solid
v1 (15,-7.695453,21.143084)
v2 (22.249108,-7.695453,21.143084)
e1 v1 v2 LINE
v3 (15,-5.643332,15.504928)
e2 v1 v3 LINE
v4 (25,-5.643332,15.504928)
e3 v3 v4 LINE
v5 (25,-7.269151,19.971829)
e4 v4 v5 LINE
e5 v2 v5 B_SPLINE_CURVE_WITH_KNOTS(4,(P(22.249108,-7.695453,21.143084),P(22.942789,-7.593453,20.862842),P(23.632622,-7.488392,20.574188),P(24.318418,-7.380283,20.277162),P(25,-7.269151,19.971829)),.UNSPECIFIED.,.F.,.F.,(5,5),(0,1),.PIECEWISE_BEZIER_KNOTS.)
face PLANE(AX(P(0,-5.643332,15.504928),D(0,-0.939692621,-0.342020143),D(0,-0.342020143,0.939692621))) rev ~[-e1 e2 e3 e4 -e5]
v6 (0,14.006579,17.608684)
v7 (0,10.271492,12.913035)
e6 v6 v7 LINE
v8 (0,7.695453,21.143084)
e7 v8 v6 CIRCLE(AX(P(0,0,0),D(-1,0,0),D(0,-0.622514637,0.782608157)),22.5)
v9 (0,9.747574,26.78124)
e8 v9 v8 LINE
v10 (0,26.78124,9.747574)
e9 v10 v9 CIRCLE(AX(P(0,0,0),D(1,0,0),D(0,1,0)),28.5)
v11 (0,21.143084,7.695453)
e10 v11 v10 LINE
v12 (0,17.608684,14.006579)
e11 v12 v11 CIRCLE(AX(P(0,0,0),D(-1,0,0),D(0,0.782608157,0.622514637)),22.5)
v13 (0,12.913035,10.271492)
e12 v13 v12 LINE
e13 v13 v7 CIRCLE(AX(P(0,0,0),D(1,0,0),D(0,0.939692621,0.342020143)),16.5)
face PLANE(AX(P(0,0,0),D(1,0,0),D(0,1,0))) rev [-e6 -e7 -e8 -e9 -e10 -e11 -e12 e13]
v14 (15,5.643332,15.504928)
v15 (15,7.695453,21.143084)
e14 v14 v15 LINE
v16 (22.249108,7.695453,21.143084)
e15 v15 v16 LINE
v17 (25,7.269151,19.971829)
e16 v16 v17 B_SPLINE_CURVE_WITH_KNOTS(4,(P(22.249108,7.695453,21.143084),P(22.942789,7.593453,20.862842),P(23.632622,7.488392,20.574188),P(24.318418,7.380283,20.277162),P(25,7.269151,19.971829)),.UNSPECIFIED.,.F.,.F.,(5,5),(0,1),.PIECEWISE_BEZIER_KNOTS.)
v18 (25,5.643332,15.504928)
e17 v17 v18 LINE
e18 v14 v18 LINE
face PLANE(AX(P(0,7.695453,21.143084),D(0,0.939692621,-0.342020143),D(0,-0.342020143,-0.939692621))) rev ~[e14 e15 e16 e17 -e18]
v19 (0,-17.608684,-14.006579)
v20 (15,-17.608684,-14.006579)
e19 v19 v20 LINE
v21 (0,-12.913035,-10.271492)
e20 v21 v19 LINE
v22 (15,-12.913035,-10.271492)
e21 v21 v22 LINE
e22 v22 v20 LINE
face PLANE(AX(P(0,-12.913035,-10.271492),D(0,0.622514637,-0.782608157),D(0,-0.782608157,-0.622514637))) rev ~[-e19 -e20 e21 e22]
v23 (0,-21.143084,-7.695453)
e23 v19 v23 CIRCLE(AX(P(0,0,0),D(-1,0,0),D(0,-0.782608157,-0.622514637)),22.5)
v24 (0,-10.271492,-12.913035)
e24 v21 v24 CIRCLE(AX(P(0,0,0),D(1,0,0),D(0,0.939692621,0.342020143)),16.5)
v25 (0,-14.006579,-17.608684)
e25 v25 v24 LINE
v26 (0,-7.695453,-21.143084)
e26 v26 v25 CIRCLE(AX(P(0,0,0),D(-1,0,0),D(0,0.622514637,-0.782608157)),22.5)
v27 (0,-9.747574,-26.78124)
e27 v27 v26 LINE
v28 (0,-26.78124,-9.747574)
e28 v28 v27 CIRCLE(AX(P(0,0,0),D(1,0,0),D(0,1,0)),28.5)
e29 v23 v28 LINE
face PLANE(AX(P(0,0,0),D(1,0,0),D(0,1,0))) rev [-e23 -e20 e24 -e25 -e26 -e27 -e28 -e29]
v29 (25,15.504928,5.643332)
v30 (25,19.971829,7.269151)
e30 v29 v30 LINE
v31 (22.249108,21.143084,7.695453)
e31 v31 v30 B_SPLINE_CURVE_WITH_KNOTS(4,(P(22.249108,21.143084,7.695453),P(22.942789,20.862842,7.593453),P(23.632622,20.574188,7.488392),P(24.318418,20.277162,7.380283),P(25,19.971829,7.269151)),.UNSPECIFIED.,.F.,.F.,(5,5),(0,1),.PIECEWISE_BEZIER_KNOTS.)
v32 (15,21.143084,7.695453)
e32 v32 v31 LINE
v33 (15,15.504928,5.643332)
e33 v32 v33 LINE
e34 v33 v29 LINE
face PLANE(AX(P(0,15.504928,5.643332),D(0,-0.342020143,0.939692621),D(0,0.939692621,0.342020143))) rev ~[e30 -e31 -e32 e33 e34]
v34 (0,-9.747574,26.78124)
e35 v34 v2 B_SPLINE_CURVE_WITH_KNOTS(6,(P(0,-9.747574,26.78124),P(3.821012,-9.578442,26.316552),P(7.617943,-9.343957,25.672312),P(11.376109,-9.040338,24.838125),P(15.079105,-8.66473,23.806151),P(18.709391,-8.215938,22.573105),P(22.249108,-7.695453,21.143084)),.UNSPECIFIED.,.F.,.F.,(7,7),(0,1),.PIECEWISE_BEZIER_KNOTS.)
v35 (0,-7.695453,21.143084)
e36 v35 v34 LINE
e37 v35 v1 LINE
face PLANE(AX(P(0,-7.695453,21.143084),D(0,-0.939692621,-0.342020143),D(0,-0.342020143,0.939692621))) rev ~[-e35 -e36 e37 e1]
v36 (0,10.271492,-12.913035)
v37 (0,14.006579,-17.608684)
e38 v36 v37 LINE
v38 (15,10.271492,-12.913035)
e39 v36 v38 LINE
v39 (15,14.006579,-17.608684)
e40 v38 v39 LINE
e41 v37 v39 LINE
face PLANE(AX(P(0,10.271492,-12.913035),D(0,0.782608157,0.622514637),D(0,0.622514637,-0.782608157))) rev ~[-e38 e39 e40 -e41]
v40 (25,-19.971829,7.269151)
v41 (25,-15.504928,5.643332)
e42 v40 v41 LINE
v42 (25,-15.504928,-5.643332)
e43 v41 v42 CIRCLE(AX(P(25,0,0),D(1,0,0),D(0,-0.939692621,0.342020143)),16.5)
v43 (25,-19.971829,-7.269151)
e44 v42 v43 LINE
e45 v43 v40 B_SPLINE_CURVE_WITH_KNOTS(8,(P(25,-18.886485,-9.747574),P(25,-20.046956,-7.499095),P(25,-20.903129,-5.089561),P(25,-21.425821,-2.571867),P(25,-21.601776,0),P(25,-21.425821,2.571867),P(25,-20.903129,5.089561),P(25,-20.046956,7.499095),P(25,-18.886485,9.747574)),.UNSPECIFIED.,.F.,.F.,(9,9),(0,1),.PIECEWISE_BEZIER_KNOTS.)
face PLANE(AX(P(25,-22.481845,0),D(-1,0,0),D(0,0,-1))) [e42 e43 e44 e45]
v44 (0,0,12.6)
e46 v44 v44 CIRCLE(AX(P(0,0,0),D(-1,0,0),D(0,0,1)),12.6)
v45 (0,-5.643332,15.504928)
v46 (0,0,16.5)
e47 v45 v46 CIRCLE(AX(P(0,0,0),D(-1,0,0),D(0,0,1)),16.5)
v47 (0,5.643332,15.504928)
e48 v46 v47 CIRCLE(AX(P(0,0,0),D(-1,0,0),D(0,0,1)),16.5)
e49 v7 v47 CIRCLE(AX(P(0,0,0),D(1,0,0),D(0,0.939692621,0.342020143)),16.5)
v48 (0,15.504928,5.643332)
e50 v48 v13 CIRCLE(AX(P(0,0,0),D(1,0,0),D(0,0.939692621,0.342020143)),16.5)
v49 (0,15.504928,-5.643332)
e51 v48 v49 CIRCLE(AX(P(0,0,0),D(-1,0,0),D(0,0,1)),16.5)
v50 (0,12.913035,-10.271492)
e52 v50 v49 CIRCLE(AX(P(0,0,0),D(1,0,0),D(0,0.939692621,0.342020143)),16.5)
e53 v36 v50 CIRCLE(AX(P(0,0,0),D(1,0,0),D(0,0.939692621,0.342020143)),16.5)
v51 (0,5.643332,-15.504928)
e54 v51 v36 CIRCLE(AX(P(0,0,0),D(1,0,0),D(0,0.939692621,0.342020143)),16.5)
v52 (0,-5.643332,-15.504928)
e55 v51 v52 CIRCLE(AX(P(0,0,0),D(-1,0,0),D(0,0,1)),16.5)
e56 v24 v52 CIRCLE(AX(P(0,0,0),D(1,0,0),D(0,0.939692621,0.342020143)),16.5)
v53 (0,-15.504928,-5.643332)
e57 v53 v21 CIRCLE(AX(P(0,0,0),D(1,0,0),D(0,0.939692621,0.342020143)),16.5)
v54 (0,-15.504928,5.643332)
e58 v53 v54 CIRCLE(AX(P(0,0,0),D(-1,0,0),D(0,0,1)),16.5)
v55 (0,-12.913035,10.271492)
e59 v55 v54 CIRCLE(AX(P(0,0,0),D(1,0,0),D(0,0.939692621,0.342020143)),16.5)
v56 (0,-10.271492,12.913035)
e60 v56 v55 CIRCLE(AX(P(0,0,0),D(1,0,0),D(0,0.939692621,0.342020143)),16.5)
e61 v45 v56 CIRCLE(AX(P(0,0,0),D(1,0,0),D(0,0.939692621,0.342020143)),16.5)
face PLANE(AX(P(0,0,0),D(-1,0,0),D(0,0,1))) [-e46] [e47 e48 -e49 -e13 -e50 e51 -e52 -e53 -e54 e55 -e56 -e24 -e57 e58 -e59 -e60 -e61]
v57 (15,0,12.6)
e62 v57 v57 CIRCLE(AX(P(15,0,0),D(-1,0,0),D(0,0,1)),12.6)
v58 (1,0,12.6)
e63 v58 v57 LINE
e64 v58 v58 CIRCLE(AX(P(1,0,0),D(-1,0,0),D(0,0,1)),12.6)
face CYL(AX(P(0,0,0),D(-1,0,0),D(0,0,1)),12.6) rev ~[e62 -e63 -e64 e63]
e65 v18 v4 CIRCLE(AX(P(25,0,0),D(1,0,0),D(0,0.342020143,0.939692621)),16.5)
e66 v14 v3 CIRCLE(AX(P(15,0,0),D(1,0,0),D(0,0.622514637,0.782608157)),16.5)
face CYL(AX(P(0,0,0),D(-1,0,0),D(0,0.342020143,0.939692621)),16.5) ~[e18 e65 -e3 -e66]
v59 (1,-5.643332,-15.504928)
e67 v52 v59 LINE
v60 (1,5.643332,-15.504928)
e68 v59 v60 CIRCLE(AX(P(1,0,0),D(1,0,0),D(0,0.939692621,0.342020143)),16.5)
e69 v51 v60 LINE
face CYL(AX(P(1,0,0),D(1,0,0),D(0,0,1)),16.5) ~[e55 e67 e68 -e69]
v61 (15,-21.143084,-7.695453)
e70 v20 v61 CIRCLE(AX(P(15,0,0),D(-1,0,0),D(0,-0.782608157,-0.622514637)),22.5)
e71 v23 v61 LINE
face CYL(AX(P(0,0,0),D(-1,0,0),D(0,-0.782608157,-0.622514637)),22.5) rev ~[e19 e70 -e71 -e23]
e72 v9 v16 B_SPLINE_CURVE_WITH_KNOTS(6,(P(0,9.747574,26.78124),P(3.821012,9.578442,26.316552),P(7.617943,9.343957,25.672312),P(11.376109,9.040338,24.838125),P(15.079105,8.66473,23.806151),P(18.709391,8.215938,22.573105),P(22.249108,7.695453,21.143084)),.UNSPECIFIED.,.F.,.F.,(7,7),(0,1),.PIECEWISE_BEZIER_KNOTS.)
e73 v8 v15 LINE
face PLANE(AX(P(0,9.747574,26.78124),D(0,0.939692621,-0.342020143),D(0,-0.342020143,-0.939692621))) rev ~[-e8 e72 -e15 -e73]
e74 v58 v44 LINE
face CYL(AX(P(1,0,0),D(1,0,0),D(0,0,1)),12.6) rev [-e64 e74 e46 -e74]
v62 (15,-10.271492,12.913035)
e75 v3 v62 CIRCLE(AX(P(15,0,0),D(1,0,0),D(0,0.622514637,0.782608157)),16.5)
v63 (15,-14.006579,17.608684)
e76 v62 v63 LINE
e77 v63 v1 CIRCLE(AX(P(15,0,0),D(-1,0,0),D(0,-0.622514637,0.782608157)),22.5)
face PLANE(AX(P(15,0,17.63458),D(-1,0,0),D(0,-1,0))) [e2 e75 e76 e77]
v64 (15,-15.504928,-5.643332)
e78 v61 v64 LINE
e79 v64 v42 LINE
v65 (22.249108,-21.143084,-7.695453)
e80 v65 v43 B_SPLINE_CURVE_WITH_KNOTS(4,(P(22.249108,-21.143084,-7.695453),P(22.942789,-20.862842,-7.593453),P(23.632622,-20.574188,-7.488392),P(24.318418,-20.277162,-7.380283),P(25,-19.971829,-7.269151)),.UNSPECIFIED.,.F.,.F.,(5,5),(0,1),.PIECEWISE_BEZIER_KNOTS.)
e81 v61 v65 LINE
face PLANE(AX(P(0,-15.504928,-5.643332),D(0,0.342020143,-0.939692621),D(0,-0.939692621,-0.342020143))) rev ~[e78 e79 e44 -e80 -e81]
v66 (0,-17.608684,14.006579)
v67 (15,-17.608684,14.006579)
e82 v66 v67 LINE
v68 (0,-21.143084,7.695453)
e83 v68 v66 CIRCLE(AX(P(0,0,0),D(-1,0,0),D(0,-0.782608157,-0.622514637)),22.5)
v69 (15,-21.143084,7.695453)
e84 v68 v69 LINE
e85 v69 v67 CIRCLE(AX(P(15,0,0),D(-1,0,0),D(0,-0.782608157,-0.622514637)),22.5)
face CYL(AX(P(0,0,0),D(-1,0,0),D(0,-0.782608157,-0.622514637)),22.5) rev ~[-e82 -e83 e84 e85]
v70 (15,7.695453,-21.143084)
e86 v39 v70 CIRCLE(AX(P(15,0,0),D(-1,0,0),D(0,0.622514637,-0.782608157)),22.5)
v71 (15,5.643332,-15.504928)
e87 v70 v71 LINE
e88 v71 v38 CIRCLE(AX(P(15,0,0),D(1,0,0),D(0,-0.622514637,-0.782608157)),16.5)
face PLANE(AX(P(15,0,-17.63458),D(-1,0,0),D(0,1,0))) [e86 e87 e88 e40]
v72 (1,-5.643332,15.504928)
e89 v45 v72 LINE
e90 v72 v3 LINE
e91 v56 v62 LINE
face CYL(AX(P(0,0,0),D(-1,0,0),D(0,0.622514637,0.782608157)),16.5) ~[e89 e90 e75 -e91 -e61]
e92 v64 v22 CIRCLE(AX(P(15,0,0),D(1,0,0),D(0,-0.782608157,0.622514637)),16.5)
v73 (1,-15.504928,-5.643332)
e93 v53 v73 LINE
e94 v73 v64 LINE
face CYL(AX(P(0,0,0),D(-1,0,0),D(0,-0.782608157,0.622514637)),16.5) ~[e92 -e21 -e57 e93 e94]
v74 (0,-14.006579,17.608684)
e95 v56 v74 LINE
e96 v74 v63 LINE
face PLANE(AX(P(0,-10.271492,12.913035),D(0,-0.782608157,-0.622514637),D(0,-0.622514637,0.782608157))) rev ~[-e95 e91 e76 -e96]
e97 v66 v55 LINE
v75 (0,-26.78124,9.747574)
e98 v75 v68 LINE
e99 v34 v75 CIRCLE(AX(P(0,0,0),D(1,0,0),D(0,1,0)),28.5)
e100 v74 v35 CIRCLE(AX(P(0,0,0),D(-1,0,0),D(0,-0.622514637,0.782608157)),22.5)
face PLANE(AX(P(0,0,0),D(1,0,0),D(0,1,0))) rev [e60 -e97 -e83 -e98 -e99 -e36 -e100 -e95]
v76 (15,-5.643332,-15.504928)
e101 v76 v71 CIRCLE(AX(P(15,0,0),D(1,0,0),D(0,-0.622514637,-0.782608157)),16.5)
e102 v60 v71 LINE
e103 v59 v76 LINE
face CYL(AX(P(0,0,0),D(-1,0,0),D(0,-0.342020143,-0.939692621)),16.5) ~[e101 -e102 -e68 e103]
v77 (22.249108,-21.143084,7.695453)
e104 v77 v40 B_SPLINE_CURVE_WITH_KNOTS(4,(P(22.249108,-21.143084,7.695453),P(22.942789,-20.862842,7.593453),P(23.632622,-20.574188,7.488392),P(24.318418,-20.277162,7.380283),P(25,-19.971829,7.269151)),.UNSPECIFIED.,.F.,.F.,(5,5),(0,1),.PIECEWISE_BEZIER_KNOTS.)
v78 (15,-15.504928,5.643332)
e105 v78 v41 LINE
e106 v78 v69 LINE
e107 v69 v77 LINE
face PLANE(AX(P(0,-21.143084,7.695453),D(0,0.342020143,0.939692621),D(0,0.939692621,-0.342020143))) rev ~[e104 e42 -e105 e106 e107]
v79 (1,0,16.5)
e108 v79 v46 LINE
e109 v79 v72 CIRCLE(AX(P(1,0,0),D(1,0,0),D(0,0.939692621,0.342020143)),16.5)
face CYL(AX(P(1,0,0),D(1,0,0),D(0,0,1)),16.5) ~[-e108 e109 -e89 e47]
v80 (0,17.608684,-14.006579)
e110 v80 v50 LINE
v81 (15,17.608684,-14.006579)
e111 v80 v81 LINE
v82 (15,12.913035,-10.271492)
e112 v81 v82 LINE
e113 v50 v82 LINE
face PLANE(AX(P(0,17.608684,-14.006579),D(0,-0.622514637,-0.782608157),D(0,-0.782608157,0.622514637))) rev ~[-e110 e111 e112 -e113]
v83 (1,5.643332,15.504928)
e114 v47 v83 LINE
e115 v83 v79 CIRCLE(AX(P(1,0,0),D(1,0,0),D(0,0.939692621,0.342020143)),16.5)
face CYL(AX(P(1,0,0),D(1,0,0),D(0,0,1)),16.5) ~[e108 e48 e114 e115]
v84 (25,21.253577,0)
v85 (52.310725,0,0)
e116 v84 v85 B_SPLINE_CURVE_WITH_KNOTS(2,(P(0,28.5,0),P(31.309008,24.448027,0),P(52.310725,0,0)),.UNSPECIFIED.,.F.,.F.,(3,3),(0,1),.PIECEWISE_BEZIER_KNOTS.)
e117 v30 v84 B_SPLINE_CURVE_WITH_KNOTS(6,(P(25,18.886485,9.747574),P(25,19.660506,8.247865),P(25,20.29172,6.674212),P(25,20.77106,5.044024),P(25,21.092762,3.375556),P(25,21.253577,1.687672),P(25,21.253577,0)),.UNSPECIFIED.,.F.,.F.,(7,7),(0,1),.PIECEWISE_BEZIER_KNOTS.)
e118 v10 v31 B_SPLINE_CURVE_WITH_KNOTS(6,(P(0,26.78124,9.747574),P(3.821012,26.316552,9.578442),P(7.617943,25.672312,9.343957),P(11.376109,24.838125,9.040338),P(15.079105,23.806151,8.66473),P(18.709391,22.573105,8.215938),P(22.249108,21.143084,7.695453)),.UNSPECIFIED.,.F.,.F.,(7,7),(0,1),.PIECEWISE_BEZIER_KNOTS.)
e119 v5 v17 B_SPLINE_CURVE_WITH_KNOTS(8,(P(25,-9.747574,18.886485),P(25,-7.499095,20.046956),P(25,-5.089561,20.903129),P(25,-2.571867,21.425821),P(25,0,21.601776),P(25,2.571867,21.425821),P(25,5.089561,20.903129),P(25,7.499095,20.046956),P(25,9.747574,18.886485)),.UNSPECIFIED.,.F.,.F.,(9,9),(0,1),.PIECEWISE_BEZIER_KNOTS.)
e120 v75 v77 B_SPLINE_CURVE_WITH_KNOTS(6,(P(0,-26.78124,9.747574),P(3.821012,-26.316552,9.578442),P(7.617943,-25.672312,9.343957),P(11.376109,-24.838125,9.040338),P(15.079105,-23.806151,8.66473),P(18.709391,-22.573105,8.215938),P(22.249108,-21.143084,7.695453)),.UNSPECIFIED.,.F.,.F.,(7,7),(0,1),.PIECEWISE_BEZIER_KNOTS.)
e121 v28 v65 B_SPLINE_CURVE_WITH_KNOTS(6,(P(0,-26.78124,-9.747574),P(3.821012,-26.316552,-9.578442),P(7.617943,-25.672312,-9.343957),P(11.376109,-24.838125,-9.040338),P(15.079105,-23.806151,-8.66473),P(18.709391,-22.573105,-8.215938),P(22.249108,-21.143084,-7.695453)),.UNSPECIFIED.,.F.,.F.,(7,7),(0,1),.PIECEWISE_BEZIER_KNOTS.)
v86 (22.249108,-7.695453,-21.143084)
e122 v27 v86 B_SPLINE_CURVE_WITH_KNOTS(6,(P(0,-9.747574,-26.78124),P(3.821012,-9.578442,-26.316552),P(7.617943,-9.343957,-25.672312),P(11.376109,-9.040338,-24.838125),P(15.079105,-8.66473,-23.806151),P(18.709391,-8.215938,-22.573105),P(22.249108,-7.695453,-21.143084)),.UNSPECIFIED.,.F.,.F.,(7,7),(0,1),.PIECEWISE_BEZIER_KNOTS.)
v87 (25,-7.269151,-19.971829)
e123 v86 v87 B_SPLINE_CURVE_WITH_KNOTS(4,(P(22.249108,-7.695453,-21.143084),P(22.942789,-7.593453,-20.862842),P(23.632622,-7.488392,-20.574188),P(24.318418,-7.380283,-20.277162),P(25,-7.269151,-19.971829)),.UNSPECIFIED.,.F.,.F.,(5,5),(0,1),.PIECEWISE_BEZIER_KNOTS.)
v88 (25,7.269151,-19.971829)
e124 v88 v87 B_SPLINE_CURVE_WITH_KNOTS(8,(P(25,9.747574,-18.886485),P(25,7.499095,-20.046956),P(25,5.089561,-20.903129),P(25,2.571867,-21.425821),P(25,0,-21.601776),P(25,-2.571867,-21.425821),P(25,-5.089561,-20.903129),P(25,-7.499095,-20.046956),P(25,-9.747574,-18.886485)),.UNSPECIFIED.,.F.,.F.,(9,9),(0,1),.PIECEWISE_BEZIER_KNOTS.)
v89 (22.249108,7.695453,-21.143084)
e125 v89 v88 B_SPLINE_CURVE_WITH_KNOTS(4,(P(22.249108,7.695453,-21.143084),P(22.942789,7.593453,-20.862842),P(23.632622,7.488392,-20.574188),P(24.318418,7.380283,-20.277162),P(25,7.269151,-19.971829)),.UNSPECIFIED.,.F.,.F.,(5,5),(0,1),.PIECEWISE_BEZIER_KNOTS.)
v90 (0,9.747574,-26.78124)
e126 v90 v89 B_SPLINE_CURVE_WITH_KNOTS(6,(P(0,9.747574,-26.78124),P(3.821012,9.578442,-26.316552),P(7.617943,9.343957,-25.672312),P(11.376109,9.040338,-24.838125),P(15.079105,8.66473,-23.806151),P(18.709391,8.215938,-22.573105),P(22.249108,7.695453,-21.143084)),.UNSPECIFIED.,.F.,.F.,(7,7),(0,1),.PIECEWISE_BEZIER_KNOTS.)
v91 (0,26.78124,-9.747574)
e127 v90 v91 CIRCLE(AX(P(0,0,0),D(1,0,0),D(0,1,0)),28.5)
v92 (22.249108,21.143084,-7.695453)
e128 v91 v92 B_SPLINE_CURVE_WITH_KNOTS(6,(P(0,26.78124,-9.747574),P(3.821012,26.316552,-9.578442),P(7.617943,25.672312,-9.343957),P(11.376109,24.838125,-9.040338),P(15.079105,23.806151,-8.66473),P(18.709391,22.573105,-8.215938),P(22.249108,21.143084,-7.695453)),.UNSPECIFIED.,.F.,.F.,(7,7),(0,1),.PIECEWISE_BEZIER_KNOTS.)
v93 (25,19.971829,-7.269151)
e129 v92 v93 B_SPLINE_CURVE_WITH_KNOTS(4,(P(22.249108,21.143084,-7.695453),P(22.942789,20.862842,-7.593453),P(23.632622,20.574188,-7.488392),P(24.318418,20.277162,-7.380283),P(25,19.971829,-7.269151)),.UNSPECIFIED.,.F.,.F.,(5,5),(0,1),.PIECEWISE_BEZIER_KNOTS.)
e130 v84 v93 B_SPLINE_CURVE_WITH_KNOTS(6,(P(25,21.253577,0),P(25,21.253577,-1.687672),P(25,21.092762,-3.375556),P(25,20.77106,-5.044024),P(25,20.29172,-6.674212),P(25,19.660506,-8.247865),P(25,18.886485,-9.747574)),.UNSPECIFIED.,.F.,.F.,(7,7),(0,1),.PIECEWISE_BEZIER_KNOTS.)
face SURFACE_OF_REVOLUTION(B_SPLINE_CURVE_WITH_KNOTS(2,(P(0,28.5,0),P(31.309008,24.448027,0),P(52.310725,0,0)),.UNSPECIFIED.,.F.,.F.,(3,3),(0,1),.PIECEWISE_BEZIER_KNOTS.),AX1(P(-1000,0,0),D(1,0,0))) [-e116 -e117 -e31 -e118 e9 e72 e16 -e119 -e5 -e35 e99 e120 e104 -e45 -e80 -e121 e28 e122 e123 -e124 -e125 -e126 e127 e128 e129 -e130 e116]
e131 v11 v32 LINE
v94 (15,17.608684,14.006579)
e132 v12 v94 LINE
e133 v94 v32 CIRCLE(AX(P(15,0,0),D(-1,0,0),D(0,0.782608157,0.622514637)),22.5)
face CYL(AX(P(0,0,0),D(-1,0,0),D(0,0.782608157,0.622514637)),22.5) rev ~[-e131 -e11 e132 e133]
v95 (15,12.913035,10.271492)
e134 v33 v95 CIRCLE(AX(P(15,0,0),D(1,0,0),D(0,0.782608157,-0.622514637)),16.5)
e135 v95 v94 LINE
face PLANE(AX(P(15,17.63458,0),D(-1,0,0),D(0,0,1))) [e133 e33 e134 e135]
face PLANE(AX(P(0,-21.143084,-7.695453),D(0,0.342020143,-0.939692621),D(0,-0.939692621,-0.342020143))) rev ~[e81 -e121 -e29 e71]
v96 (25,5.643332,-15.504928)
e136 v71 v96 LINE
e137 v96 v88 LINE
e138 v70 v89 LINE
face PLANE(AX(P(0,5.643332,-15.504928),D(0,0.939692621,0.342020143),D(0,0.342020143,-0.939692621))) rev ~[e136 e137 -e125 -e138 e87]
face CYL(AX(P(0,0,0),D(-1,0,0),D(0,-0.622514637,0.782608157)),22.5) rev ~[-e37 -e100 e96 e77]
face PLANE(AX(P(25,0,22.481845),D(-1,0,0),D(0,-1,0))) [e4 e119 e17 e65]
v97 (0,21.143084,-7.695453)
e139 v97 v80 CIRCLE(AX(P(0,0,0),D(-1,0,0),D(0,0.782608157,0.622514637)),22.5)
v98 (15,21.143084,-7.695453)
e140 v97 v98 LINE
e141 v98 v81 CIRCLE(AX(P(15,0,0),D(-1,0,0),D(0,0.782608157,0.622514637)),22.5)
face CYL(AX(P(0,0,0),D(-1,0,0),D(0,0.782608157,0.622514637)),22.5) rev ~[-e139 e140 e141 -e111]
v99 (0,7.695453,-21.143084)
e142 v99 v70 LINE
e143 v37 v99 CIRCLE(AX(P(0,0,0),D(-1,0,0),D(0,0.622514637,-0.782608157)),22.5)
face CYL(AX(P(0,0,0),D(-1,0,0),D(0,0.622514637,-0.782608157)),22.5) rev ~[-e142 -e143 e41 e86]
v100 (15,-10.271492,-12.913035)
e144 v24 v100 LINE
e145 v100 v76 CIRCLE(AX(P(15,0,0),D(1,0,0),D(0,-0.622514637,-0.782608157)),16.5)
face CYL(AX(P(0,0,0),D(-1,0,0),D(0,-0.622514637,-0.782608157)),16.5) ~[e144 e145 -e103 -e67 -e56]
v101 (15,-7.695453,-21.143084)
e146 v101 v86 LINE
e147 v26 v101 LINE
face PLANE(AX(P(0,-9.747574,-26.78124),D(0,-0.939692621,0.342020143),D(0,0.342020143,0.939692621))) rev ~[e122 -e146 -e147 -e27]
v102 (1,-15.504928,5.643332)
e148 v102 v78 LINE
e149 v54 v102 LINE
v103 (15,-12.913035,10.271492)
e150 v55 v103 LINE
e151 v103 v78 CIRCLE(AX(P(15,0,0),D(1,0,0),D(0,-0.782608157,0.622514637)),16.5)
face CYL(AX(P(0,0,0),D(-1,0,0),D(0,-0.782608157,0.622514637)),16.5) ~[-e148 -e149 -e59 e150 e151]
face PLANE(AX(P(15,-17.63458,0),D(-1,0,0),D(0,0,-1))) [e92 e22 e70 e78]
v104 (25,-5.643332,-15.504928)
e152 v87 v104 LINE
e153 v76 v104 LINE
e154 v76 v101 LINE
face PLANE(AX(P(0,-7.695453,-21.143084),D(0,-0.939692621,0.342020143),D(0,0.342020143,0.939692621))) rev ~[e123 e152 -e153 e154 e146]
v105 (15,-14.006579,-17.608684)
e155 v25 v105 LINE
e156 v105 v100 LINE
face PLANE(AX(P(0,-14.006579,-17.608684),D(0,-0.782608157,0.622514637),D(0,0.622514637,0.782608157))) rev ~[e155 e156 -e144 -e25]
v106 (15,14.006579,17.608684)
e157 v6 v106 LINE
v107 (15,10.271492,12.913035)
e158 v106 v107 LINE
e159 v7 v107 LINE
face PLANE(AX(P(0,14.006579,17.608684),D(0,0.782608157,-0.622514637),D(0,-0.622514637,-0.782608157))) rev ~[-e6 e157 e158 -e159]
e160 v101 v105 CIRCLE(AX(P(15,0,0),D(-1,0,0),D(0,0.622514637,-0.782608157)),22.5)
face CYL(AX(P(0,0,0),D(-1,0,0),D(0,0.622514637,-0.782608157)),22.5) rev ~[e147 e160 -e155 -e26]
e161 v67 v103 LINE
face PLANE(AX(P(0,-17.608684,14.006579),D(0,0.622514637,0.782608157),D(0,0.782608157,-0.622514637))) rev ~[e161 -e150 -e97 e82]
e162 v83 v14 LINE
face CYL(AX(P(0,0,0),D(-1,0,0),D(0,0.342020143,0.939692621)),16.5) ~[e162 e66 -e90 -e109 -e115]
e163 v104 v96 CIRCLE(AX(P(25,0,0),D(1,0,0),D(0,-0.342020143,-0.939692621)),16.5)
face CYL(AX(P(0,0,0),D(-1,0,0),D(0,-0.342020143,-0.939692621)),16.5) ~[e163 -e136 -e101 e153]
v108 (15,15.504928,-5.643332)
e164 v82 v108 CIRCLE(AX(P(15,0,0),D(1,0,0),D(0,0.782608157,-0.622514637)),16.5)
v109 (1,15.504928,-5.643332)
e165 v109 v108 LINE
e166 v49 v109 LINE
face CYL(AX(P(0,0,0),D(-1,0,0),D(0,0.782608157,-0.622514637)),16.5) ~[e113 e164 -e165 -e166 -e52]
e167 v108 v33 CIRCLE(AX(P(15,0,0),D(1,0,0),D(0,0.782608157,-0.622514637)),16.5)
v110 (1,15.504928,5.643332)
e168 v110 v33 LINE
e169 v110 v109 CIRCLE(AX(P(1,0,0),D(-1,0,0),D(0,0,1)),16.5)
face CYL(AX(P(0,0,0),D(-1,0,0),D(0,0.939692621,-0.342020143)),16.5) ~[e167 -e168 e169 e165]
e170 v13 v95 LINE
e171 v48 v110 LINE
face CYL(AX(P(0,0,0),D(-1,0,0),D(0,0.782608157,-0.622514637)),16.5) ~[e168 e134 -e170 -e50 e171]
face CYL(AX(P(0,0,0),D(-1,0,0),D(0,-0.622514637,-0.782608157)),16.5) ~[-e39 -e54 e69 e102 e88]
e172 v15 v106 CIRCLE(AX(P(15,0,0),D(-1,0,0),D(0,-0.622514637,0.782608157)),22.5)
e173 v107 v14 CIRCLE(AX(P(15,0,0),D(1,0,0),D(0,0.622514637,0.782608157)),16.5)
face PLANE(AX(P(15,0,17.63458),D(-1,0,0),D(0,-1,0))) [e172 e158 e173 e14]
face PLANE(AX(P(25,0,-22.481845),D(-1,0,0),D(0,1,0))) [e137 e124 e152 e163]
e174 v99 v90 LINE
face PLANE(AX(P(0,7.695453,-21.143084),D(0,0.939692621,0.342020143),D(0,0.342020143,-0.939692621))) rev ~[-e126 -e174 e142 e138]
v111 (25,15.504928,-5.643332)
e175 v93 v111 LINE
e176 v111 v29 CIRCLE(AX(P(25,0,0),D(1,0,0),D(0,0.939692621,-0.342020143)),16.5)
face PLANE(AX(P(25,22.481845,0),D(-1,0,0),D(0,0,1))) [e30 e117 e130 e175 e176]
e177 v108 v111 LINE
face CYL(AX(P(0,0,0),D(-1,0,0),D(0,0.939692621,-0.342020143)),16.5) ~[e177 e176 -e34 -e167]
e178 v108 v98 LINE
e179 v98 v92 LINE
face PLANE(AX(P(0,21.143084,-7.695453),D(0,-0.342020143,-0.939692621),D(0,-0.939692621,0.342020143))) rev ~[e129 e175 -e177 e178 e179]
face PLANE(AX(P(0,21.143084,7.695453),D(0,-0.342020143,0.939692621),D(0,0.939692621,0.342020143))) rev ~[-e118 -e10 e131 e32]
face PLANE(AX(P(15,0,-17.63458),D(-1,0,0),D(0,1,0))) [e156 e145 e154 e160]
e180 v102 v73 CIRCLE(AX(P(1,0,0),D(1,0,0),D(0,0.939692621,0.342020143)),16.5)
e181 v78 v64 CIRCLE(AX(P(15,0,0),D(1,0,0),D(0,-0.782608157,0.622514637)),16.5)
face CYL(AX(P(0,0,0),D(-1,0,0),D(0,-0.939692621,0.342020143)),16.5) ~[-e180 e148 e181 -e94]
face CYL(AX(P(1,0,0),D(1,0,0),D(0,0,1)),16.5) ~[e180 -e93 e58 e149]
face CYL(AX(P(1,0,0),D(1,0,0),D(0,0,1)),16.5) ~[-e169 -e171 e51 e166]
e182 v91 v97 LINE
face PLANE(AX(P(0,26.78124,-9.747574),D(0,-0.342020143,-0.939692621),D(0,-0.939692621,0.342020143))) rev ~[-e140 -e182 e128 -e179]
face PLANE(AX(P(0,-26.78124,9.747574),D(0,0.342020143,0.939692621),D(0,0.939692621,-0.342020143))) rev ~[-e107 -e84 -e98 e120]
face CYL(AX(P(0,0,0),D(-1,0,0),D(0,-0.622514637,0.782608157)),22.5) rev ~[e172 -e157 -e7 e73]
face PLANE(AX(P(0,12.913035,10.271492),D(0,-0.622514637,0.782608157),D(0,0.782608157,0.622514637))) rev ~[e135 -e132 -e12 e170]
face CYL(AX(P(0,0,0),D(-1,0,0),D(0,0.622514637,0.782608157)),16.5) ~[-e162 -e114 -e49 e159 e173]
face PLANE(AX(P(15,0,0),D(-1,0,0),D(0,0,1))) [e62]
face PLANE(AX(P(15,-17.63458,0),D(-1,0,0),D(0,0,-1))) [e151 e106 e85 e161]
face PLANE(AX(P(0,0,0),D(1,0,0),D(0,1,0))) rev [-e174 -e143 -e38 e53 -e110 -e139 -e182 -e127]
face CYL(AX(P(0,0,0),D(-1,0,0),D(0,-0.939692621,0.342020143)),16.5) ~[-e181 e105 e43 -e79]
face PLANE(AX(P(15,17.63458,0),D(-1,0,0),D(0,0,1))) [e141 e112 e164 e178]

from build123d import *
from build123d.topology import SkipClean

# Parameters (mm, degrees)
SKETCH_7_R               = 12.6
CUT_EXTRUDE_1_DEPTH      = 15
SKETCH_8_R               = 16.5
CUT_EXTRUDE_2_DEPTH      = 1
CUT_EXTRUDE_3_DEPTH      = 25
PATTERN_CIRCULAR_1_COUNT = 4
SKETCH_12_R              = 16.5
SKETCH_12_R_2            = 12.6
EXTRUDE_1_DEPTH          = 1
CUT_EXTRUDE_4_DEPTH      = 15
PATTERN_CIRCULAR_2_COUNT = 4


with BuildPart() as part:
    # Эскиз2 → Повернуть1 (revolve)
    with BuildSketch(Plane.XY):
        with BuildLine():
            Line((0, 0), (0, 28.5))
            add(Edge.make_bspline(
                [(0, 28.5), (31.309007967, 24.448027272), (52.310724818, 0)],
                knots=[0, 0, 0, 1, 1, 1], degree=2))
            Line((52.310724818, 0), (28.5, 0))
            Line((28.5, 0), (0, 0))
        make_face()
    revolve(axis=Axis((-1000, 0, 0), (1, 0, 0)))

    # Эскиз7 → Вырез-Вытянуть1 (cut)
    with BuildSketch(Plane.ZY):
        Circle(SKETCH_7_R)
    extrude(amount=-CUT_EXTRUDE_1_DEPTH, mode=Mode.SUBTRACT)

    # Эскиз8 → Вырез-Вытянуть2 (cut)
    with BuildSketch(Plane.ZY):
        Circle(SKETCH_8_R)
    extrude(amount=-CUT_EXTRUDE_2_DEPTH, mode=Mode.SUBTRACT)

    # Эскиз11 → Вырез-Вытянуть3 (cut)
    with BuildSketch(Plane.ZY):
        with BuildLine():
            Line((-9.747574085, 26.781239692), (-7.695453225, 21.143083968))
            Line((-7.695453225, 21.143083968), (-5.643332365, 15.504928243))
            ThreePointArc((-5.643332365, 15.504928243), (0, 16.5), (5.643332365, 15.504928243))
            Line((5.643332365, 15.504928243), (7.695453225, 21.143083968))
            Line((7.695453225, 21.143083968), (9.747574085, 26.781239692))
            ThreePointArc((9.747574085, 26.781239692), (0, 28.5), (-9.747574085, 26.781239692))
        make_face()
    cut_extrude_3 = extrude(amount=-CUT_EXTRUDE_3_DEPTH, mode=Mode.SUBTRACT)

    # Круговой массив1: Вырез-Вытянуть3 ×4 about axis
    pattern_circular_1_axis = Axis((1, 0, 0), (-1, 0, 0))
    for i in range(1, PATTERN_CIRCULAR_1_COUNT):
        add(cut_extrude_3.rotate(pattern_circular_1_axis, i * 360 / PATTERN_CIRCULAR_1_COUNT), mode=Mode.SUBTRACT)

    # Эскиз12 → Бобышка-Вытянуть1 (add)
    with SkipClean():  # the faces are left unmerged after this step: merging them gives an invalid solid
        with BuildSketch(Plane.ZY.offset(-1)):
            Circle(SKETCH_12_R)
            Circle(SKETCH_12_R_2, mode=Mode.SUBTRACT)
        extrude(amount=EXTRUDE_1_DEPTH)

    # Эскиз13 → Вырез-Вытянуть4 (cut)
    with SkipClean():  # the faces are left unmerged after this step: merging them gives an invalid solid
        with BuildSketch(Plane.ZY):
            with BuildLine():
                Line((-14.006579324, 17.608683529), (-10.271491505, 12.913034588))
                ThreePointArc((-10.271491505, 12.913034588), (0, 16.5), (10.271491505, 12.913034588))
                Line((10.271491505, 12.913034588), (14.006579324, 17.608683529))
                ThreePointArc((14.006579324, 17.608683529), (0, 22.5), (-14.006579324, 17.608683529))
            make_face()
        cut_extrude_4 = extrude(amount=-CUT_EXTRUDE_4_DEPTH, mode=Mode.SUBTRACT)

    # Круговой массив2: Вырез-Вытянуть4 ×4 about axis
    with SkipClean():  # the faces are left unmerged after this step: merging them gives an invalid solid
        pattern_circular_2_axis = Axis((0, 0, 0), (-1, 0, 0))
        for i in range(1, PATTERN_CIRCULAR_2_COUNT):
            add(cut_extrude_4.rotate(pattern_circular_2_axis, i * 360 / PATTERN_CIRCULAR_2_COUNT), mode=Mode.SUBTRACT)


solid = part.part
